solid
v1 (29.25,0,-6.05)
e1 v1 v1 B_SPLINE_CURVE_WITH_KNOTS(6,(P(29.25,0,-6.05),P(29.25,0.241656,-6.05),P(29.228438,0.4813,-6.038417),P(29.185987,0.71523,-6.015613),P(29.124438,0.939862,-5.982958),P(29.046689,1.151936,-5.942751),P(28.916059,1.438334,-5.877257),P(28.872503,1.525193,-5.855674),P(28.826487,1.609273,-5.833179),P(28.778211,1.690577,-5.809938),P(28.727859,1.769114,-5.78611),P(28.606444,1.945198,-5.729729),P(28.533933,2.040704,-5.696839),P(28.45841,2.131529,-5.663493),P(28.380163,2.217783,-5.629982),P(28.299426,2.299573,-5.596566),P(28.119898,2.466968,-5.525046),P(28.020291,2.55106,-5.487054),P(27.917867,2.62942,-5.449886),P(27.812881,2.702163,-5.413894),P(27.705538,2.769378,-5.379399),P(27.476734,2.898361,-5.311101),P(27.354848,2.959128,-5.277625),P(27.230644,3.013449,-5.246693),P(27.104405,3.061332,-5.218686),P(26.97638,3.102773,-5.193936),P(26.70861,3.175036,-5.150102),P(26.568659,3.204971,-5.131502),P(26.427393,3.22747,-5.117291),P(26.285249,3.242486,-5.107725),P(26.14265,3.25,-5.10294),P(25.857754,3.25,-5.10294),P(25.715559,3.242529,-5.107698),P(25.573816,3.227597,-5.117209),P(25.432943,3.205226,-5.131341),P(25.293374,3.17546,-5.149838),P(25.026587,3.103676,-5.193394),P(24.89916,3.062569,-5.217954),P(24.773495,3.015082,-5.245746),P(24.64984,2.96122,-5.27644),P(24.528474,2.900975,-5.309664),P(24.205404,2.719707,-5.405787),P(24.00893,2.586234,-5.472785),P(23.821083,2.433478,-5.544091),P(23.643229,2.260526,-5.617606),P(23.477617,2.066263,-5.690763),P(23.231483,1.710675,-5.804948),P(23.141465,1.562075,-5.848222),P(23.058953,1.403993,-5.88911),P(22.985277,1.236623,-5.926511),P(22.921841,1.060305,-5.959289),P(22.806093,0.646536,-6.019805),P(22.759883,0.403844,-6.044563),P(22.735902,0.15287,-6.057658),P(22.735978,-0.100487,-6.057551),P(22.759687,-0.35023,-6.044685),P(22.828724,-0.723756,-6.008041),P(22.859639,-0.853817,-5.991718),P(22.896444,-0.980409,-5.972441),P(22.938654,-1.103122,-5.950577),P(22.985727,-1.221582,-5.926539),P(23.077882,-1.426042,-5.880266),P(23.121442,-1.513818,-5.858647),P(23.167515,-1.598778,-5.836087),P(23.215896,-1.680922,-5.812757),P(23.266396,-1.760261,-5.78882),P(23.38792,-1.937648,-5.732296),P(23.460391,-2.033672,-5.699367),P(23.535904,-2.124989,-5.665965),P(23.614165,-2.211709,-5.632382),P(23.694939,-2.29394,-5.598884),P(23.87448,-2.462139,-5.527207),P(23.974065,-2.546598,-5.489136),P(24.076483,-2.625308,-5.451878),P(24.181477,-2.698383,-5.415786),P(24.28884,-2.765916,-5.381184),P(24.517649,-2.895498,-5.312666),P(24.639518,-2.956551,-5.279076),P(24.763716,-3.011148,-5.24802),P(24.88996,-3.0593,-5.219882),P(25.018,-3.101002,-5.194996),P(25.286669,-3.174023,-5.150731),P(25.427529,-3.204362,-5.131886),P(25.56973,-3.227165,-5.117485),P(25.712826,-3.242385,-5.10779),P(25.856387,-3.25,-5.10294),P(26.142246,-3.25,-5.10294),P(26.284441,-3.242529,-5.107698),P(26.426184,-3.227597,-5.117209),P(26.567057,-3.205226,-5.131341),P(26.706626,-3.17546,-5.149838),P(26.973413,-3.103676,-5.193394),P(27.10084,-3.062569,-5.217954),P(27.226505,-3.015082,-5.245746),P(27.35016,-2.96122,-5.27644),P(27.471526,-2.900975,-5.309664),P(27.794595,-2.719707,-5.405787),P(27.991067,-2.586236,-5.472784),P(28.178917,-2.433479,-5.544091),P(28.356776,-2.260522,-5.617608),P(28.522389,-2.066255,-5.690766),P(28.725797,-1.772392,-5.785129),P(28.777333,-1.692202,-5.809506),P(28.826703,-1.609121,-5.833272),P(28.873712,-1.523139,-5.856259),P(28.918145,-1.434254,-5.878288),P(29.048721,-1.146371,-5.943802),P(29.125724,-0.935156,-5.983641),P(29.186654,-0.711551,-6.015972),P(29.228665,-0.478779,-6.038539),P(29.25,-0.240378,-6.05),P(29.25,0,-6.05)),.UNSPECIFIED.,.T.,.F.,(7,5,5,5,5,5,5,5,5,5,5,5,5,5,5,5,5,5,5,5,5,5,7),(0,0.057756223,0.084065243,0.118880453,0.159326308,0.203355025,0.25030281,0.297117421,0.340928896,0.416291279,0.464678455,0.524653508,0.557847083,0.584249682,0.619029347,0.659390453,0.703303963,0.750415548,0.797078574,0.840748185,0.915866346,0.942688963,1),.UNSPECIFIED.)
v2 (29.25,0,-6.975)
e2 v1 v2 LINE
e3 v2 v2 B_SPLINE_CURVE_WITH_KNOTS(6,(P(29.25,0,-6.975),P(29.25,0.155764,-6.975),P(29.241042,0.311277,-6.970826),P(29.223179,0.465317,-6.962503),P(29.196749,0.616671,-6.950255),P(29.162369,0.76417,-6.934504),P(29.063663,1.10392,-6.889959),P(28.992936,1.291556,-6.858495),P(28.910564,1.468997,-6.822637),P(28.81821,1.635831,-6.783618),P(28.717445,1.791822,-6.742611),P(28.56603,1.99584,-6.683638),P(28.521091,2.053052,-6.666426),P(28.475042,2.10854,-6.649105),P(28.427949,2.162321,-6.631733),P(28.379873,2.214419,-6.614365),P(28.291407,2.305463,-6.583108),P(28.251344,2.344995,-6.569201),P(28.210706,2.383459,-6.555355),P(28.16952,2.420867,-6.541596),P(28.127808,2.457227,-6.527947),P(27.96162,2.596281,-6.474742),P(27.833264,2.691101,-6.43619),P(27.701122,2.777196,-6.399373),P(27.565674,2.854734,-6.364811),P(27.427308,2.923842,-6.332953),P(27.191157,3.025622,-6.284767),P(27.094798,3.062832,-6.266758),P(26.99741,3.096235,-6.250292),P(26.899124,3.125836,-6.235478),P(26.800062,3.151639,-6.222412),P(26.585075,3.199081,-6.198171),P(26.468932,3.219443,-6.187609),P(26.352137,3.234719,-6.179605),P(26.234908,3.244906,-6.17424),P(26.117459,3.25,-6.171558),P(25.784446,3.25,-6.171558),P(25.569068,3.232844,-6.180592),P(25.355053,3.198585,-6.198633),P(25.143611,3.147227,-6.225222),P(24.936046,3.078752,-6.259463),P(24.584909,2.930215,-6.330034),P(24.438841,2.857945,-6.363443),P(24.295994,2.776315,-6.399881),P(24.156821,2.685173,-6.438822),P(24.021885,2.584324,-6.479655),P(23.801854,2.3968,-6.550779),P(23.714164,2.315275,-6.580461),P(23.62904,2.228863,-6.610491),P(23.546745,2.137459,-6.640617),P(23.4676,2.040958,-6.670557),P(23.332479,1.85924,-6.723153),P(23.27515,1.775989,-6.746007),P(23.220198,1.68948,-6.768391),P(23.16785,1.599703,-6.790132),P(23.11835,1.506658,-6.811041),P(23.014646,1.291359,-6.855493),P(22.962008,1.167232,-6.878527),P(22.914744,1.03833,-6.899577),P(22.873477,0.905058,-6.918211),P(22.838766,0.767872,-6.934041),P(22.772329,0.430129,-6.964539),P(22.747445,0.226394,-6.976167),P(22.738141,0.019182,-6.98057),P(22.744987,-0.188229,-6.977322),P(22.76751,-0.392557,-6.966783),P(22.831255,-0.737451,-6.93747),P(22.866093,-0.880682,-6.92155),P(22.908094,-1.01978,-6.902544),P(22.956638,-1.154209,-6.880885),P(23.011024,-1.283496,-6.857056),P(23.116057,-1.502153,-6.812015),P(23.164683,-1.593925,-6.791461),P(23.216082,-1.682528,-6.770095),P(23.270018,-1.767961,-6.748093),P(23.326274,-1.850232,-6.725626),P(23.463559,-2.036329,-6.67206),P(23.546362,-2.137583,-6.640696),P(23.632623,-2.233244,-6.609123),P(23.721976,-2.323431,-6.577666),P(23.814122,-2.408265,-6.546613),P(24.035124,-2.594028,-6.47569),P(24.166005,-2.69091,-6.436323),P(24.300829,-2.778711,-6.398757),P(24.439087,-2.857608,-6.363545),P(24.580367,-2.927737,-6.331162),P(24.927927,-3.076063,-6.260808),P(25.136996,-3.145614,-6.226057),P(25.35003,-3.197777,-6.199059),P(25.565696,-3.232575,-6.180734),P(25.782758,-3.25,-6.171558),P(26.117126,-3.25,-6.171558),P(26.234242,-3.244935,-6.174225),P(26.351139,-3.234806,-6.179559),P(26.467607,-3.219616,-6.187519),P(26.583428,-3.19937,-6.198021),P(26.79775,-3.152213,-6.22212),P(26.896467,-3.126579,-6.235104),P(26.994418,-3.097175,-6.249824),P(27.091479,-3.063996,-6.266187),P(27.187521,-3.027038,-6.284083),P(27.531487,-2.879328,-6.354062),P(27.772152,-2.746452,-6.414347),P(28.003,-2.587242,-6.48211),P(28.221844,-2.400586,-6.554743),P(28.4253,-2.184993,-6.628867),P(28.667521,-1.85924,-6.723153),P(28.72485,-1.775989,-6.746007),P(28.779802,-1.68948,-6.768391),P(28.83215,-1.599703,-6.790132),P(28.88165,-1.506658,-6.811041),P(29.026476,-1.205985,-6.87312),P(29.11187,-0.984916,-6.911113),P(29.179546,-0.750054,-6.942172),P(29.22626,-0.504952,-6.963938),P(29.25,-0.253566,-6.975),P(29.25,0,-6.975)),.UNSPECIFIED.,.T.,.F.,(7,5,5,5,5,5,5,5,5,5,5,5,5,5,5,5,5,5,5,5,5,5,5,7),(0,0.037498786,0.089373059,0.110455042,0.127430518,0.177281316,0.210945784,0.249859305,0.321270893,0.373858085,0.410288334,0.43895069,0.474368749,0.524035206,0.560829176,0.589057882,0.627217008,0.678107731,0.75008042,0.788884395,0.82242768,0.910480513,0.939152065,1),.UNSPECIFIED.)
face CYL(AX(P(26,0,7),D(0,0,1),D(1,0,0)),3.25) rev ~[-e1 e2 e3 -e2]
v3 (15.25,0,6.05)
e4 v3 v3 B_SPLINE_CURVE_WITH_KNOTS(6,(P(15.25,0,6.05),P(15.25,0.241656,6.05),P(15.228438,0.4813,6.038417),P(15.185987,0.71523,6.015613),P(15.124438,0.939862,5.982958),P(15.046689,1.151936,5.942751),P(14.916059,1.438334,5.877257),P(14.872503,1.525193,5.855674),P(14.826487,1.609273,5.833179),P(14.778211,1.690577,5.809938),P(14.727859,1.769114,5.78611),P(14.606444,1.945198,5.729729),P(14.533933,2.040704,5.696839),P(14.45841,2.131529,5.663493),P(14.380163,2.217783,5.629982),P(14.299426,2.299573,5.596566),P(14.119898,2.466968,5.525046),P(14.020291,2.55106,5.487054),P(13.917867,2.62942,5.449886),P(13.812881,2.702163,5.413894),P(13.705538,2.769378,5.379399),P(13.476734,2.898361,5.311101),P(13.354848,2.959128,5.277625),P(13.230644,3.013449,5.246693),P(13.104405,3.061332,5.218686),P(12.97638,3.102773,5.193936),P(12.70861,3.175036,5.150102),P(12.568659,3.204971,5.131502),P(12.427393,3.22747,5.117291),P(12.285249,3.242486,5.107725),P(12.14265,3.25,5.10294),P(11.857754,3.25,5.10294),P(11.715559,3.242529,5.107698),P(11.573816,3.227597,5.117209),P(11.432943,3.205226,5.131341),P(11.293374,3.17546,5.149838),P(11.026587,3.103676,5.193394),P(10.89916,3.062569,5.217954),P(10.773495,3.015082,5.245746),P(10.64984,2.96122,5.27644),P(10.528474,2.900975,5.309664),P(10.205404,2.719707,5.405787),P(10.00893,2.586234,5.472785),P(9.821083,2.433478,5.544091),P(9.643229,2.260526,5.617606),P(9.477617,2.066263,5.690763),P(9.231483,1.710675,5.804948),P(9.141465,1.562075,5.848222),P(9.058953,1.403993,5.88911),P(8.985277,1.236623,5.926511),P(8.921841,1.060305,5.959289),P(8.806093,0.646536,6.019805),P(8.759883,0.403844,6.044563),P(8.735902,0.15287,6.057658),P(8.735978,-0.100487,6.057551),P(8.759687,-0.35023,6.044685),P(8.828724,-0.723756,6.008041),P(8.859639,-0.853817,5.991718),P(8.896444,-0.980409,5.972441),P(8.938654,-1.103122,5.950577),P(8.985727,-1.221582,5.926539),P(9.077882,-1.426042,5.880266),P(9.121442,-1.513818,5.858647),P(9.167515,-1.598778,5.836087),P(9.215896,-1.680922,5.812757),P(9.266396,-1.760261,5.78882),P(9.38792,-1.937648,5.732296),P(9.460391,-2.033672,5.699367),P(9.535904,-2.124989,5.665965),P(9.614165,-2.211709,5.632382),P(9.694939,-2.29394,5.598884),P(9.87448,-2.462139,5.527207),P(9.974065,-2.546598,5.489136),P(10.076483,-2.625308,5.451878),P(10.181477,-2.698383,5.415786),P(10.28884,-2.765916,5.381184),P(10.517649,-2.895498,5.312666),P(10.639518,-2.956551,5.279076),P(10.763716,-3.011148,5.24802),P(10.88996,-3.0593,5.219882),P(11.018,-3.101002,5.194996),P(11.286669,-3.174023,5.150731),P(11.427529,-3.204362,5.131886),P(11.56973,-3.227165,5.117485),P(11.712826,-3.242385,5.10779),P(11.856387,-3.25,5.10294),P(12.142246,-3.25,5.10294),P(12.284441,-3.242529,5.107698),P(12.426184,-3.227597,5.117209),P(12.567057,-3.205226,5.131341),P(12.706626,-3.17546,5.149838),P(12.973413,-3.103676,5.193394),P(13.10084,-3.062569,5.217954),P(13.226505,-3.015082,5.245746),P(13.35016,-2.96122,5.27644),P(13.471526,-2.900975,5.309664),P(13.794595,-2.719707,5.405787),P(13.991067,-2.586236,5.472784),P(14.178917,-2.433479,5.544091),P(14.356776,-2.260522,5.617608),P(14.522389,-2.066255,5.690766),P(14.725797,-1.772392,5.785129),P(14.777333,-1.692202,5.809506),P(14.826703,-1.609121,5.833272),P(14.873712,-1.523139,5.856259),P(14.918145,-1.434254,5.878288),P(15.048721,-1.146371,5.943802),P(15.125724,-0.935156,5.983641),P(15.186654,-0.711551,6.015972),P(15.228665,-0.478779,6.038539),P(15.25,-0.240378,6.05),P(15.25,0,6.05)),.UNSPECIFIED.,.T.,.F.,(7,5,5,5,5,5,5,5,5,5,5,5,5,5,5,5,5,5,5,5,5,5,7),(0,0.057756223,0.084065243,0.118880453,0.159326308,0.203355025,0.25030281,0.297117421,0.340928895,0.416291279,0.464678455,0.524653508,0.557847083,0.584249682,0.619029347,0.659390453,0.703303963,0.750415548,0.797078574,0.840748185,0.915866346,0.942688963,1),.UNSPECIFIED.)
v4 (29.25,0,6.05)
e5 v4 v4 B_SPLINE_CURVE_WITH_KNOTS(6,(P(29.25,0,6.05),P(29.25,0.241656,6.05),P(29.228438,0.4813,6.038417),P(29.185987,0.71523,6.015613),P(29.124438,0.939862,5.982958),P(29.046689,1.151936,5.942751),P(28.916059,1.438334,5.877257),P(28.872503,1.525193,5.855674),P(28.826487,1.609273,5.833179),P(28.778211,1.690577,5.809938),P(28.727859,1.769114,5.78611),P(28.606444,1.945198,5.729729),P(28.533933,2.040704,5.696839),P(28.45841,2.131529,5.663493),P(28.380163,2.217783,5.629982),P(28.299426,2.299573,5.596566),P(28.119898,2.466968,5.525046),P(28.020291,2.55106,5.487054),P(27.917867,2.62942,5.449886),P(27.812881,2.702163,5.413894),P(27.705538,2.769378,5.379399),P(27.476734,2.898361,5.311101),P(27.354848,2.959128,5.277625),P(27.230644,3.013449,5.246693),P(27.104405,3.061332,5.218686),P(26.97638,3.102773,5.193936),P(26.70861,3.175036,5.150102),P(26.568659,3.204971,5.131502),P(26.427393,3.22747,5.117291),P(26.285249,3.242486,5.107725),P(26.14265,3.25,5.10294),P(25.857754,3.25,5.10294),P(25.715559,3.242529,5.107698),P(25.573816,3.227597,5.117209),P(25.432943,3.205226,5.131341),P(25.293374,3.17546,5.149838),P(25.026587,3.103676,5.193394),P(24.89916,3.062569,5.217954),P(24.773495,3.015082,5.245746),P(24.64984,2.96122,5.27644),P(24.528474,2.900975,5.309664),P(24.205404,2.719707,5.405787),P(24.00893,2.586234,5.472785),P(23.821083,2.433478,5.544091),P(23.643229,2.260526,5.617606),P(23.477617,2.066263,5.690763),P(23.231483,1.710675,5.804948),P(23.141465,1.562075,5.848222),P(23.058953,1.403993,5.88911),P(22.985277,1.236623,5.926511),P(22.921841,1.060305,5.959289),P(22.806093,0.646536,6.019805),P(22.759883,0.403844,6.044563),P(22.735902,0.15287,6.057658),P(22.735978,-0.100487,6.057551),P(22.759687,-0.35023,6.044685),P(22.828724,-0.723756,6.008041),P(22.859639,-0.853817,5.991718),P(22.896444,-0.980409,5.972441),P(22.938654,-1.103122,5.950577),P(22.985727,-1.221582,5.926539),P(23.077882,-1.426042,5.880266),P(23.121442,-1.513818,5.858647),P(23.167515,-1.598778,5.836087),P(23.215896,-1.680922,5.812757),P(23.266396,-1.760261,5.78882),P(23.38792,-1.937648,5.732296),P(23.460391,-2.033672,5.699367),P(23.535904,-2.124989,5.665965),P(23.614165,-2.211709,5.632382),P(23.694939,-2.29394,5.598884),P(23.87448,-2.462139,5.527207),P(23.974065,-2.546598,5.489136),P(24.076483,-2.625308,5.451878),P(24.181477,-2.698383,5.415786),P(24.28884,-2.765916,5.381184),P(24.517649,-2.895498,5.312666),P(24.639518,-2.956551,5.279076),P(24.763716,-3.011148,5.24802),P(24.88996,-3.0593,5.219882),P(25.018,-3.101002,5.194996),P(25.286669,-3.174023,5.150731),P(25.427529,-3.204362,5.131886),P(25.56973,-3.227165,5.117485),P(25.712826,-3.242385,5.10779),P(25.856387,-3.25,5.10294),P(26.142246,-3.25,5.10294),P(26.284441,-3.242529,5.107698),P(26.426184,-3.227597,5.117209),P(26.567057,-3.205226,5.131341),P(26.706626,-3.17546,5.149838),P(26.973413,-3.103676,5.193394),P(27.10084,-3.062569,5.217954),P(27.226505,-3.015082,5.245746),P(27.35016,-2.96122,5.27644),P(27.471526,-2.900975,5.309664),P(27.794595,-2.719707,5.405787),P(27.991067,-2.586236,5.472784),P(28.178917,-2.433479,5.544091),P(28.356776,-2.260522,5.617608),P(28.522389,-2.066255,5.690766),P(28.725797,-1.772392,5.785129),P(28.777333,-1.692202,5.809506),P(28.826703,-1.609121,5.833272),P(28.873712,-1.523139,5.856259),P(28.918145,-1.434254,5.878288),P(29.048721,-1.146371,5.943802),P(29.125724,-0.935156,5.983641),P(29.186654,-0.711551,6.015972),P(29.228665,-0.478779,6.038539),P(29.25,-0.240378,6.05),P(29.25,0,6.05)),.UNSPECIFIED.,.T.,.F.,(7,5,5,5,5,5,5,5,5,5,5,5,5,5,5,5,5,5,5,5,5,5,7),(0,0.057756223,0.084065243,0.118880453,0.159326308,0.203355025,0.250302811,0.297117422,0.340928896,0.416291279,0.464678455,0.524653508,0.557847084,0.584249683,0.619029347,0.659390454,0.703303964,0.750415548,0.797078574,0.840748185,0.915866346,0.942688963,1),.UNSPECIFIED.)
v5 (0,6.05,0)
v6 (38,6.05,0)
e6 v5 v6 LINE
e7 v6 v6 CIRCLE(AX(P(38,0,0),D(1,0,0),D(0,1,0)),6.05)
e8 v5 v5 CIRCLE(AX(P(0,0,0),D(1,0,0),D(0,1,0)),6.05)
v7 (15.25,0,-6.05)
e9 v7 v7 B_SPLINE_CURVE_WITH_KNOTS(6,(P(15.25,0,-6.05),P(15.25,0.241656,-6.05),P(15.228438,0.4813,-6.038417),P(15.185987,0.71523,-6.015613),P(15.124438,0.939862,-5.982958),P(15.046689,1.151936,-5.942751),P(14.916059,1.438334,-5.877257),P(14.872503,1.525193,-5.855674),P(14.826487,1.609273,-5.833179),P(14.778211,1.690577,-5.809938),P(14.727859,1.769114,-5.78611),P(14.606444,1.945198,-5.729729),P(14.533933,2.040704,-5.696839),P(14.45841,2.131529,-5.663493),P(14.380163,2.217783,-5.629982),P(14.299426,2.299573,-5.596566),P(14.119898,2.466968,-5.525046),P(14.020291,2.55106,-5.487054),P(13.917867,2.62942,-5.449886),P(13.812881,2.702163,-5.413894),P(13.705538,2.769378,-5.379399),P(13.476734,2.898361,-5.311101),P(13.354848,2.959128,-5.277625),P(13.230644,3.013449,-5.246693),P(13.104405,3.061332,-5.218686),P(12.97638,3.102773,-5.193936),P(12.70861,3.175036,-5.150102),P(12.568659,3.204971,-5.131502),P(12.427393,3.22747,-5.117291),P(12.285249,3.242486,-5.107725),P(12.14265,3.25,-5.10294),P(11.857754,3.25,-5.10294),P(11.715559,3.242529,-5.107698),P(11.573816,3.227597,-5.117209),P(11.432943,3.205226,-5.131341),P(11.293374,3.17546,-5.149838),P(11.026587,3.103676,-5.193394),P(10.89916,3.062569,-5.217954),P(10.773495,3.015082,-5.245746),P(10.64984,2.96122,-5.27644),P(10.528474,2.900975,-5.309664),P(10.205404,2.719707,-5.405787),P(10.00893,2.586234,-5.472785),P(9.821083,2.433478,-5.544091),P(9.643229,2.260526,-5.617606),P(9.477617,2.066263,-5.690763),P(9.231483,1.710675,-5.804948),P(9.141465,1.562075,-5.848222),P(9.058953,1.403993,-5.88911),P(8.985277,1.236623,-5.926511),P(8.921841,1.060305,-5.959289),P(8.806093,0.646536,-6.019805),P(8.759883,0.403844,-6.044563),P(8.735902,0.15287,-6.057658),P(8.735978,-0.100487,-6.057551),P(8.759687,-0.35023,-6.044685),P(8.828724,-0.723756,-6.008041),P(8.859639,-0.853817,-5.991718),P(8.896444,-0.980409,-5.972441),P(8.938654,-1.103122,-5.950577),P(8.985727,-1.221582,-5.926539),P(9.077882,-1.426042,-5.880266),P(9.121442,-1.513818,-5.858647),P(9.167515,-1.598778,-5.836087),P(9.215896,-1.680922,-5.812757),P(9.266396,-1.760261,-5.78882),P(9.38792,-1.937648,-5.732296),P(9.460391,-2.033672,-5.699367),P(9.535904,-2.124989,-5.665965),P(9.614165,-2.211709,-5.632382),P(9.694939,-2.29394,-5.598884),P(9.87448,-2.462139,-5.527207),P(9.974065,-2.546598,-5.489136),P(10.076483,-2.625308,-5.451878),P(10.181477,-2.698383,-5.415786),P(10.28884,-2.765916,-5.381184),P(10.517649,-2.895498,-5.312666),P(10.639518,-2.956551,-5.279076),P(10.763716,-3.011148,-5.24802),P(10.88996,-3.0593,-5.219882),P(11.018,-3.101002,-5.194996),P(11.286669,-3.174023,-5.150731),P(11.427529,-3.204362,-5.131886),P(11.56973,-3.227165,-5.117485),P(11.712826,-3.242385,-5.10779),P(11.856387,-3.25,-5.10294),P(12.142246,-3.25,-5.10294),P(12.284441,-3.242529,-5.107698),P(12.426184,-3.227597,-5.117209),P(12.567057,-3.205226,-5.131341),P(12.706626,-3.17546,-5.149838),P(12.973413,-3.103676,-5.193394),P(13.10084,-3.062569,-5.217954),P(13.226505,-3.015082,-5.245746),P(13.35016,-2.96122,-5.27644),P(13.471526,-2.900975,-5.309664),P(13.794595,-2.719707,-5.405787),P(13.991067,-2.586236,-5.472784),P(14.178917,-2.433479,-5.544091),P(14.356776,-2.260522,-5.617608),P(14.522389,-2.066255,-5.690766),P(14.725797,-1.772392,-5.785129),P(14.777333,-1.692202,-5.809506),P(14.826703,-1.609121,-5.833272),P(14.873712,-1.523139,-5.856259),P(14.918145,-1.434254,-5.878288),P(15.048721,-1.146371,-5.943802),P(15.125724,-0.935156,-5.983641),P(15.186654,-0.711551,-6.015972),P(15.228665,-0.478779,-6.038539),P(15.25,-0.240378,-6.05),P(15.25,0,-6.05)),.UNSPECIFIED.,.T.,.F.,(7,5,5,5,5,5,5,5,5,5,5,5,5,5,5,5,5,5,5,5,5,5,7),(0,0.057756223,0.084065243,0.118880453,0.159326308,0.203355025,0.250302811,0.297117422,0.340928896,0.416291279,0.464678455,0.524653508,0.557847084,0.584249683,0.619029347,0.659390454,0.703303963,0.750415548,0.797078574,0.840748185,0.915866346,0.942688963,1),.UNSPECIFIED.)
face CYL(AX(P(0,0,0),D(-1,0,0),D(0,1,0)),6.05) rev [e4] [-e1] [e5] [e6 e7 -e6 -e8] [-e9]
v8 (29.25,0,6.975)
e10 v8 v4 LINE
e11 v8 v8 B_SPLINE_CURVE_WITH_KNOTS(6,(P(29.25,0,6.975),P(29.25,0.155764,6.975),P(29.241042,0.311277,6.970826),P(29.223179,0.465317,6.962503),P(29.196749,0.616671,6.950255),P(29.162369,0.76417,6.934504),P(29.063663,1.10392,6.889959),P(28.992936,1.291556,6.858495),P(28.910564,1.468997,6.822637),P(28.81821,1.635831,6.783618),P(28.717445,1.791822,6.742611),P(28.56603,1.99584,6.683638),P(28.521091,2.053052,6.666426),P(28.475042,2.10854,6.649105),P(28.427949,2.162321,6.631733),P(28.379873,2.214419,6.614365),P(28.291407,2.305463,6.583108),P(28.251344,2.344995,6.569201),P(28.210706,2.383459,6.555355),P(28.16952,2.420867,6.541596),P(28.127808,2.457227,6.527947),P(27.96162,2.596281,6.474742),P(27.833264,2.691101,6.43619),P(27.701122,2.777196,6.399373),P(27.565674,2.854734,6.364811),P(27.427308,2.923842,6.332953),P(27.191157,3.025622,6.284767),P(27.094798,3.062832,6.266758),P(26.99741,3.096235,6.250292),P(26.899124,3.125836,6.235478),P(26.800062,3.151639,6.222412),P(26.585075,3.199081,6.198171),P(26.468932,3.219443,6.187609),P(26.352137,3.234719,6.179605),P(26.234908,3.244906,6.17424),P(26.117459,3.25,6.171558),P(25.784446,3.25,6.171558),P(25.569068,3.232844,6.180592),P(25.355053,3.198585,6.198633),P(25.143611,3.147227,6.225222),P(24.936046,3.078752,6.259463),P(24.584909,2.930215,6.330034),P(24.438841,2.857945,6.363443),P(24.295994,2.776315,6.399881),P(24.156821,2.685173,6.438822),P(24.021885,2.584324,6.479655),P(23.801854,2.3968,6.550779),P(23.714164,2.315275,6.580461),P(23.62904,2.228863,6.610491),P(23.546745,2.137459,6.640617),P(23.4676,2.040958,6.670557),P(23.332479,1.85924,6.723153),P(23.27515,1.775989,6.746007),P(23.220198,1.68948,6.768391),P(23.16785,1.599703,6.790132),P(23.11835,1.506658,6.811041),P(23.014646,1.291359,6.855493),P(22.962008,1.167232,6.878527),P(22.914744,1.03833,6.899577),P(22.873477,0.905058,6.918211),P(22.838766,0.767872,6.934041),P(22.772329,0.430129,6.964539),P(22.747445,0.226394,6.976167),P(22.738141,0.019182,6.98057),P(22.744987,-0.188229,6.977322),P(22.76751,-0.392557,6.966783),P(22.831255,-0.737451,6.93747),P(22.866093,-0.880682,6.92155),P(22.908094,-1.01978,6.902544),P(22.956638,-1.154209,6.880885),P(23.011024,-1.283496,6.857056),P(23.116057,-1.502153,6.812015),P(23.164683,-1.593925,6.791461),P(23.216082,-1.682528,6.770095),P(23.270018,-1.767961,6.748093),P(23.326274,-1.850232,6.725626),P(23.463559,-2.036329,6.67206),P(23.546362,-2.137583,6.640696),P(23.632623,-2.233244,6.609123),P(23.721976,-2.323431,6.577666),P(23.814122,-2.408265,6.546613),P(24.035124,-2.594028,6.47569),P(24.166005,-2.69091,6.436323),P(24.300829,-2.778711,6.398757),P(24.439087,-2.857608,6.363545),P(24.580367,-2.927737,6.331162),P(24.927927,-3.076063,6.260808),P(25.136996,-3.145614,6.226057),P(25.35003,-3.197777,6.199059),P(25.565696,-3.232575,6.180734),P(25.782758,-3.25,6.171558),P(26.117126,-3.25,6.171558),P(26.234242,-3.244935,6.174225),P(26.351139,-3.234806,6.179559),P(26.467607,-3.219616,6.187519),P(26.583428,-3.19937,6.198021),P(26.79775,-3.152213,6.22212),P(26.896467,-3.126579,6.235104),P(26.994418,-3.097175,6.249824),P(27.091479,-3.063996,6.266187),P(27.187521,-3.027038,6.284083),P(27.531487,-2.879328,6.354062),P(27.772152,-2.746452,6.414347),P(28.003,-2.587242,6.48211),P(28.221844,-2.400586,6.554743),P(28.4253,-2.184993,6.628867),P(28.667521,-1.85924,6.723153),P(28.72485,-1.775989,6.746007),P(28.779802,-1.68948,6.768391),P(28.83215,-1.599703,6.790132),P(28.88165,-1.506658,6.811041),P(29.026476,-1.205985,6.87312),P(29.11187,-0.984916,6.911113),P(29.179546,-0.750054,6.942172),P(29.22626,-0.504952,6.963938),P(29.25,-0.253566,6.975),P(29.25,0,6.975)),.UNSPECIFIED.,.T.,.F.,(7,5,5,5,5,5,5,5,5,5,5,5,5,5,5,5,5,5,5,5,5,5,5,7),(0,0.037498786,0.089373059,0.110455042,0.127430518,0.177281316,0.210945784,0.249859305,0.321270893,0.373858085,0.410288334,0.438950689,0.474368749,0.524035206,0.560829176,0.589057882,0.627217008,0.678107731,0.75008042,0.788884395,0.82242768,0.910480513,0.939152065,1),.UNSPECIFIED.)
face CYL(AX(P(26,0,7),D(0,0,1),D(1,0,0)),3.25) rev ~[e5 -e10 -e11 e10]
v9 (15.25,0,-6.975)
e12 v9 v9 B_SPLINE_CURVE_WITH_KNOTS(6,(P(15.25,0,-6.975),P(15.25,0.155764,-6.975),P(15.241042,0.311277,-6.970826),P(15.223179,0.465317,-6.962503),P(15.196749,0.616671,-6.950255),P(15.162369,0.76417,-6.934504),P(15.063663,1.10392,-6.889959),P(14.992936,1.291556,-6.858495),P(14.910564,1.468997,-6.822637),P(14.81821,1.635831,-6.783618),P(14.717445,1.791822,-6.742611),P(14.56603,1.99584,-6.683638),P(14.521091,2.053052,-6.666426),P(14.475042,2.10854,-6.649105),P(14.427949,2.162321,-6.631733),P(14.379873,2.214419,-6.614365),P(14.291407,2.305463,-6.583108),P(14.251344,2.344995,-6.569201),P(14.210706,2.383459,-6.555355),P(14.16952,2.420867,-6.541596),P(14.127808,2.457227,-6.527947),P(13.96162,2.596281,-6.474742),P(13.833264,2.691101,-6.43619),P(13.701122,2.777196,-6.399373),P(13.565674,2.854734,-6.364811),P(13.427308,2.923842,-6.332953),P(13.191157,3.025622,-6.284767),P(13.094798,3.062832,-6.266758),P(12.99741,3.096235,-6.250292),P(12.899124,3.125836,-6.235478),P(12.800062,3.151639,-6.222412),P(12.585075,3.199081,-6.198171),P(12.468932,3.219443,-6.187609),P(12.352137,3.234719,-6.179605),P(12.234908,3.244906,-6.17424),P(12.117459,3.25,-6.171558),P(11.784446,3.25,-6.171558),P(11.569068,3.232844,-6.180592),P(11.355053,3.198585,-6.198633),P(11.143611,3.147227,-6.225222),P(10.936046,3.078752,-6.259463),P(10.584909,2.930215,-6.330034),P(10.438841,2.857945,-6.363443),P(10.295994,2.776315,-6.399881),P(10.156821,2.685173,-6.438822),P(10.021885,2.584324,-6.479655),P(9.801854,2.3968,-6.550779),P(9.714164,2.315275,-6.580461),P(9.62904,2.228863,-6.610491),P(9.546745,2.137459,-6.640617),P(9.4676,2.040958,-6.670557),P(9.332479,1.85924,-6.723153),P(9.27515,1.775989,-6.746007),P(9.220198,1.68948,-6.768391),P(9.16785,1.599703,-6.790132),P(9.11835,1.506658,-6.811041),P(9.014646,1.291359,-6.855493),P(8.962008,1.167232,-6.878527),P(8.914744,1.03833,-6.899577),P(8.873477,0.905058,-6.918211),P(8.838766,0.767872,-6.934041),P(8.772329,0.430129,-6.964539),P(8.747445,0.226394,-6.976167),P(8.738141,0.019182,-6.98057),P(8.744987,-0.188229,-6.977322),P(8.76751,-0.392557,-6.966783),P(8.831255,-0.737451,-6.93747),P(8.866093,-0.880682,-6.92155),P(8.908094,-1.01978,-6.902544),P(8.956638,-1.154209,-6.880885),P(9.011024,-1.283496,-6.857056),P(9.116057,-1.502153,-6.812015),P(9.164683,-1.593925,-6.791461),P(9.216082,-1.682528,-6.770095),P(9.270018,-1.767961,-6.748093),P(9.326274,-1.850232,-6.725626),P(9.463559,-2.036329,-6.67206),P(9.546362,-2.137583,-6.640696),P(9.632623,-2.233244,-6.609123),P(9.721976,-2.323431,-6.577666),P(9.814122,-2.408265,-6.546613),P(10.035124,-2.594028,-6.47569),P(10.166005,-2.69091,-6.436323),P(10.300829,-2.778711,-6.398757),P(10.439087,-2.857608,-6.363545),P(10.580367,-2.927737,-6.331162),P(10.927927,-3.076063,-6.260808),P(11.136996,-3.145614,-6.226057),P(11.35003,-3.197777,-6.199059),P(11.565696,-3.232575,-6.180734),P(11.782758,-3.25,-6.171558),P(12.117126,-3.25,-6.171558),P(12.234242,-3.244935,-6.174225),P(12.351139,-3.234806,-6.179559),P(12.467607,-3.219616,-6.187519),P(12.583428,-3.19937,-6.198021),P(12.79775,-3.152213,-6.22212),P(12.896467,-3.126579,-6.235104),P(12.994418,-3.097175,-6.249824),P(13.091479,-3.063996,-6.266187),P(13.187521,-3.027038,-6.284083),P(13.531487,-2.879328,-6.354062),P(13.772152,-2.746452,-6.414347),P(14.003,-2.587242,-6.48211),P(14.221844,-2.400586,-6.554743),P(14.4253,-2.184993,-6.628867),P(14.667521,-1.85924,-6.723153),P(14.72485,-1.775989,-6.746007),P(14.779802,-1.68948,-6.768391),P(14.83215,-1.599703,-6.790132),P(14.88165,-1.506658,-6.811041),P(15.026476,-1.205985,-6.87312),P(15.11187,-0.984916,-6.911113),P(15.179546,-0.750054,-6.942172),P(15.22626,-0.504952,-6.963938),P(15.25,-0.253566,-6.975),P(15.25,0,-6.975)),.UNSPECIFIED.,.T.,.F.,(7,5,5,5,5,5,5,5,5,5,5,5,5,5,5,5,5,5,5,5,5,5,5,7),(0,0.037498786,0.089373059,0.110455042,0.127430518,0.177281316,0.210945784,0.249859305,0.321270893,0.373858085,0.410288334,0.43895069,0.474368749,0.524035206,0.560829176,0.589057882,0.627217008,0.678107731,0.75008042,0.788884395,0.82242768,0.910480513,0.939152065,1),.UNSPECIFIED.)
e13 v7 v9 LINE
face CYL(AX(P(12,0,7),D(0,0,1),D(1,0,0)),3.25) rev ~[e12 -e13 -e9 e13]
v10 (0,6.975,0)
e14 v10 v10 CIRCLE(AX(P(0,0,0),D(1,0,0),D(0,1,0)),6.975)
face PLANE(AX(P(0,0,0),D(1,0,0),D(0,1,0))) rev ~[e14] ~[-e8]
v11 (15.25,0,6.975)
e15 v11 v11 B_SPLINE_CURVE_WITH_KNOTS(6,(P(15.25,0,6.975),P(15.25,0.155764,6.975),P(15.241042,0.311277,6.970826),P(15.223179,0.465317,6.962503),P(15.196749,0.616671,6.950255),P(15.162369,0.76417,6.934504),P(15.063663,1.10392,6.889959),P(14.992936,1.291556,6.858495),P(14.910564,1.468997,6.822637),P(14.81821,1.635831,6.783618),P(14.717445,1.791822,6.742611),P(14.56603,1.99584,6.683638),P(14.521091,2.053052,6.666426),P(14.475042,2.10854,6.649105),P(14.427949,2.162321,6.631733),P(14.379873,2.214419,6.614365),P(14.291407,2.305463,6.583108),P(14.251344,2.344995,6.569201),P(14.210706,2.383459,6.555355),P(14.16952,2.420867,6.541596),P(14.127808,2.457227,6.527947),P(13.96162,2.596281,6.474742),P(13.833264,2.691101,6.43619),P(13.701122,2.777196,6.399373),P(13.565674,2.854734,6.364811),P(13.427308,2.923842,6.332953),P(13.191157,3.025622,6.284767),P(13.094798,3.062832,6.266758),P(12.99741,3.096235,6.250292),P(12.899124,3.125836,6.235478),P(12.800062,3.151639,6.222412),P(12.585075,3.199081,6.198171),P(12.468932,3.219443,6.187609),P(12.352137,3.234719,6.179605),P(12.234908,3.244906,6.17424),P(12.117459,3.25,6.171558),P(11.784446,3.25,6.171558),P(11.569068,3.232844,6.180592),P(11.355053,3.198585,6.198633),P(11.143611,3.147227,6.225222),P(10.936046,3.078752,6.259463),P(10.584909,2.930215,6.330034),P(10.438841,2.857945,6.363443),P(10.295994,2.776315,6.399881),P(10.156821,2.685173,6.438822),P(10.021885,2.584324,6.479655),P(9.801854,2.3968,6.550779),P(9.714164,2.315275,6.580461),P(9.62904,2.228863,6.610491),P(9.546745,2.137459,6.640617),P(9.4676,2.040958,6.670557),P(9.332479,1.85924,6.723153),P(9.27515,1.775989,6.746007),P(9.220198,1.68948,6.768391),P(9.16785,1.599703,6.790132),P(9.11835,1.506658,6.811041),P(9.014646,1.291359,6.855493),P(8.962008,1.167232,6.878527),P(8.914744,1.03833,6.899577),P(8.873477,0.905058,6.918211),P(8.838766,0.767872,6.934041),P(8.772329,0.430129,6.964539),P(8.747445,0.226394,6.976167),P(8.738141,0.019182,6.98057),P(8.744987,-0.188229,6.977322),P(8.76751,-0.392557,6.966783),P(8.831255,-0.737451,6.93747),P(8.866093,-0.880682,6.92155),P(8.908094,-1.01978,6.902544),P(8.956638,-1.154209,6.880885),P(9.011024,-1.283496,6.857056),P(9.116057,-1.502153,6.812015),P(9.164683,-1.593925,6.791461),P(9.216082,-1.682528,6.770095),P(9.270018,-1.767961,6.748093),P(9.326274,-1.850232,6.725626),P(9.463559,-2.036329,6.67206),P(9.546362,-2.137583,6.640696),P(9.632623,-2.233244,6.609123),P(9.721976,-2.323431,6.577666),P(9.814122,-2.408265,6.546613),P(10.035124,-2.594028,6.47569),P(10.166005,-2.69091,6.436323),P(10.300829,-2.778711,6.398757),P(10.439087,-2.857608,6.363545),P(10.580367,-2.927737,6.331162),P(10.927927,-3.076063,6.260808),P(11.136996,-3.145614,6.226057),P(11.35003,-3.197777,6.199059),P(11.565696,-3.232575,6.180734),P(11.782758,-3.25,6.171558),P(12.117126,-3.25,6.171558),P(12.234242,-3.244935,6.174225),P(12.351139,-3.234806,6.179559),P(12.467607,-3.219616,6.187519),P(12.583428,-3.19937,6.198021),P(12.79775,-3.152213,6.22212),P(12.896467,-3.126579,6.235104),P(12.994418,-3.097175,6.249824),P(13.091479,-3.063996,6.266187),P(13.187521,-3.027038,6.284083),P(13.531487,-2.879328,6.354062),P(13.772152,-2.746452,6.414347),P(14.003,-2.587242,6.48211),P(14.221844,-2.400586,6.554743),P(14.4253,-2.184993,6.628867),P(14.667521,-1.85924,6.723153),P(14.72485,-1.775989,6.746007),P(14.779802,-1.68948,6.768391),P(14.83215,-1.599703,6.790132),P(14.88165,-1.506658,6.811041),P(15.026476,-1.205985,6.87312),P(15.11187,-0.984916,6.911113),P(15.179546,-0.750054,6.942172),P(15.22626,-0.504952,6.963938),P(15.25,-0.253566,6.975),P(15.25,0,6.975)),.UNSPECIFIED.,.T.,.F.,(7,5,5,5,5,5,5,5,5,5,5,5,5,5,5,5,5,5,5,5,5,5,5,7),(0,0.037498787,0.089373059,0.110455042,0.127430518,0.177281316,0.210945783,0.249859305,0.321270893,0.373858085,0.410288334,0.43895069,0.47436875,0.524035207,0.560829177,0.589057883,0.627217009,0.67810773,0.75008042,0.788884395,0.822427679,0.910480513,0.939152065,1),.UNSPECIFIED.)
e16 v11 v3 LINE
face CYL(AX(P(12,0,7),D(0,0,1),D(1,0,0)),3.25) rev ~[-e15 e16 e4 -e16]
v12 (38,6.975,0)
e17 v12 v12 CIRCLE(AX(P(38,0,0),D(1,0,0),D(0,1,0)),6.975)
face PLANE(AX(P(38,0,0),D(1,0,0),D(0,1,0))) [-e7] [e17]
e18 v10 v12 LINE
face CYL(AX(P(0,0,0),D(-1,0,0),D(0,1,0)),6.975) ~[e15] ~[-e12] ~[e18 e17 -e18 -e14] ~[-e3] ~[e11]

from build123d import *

# Parameters (mm, degrees)
F0_R     = 6.975
F0_R_2   = 6.05
F1_DEPTH = 38
F3_R     = 3.25
F4_DEPTH = 14


with BuildPart() as f1:
    # F0 (on Right) → F1 (new body)
    with BuildSketch(Plane.YZ):
        Circle(F0_R)
        Circle(F0_R_2, mode=Mode.SUBTRACT)
    extrude(amount=F1_DEPTH)

    # F3 (on offset) → F4 (cut)
    with BuildSketch(Plane.XY.offset(7)):
        with Locations((12, 0)):
            Circle(F3_R)
        with Locations((26, 0)):
            Circle(F3_R)
    extrude(amount=-F4_DEPTH, mode=Mode.SUBTRACT)


solid = f1.part
